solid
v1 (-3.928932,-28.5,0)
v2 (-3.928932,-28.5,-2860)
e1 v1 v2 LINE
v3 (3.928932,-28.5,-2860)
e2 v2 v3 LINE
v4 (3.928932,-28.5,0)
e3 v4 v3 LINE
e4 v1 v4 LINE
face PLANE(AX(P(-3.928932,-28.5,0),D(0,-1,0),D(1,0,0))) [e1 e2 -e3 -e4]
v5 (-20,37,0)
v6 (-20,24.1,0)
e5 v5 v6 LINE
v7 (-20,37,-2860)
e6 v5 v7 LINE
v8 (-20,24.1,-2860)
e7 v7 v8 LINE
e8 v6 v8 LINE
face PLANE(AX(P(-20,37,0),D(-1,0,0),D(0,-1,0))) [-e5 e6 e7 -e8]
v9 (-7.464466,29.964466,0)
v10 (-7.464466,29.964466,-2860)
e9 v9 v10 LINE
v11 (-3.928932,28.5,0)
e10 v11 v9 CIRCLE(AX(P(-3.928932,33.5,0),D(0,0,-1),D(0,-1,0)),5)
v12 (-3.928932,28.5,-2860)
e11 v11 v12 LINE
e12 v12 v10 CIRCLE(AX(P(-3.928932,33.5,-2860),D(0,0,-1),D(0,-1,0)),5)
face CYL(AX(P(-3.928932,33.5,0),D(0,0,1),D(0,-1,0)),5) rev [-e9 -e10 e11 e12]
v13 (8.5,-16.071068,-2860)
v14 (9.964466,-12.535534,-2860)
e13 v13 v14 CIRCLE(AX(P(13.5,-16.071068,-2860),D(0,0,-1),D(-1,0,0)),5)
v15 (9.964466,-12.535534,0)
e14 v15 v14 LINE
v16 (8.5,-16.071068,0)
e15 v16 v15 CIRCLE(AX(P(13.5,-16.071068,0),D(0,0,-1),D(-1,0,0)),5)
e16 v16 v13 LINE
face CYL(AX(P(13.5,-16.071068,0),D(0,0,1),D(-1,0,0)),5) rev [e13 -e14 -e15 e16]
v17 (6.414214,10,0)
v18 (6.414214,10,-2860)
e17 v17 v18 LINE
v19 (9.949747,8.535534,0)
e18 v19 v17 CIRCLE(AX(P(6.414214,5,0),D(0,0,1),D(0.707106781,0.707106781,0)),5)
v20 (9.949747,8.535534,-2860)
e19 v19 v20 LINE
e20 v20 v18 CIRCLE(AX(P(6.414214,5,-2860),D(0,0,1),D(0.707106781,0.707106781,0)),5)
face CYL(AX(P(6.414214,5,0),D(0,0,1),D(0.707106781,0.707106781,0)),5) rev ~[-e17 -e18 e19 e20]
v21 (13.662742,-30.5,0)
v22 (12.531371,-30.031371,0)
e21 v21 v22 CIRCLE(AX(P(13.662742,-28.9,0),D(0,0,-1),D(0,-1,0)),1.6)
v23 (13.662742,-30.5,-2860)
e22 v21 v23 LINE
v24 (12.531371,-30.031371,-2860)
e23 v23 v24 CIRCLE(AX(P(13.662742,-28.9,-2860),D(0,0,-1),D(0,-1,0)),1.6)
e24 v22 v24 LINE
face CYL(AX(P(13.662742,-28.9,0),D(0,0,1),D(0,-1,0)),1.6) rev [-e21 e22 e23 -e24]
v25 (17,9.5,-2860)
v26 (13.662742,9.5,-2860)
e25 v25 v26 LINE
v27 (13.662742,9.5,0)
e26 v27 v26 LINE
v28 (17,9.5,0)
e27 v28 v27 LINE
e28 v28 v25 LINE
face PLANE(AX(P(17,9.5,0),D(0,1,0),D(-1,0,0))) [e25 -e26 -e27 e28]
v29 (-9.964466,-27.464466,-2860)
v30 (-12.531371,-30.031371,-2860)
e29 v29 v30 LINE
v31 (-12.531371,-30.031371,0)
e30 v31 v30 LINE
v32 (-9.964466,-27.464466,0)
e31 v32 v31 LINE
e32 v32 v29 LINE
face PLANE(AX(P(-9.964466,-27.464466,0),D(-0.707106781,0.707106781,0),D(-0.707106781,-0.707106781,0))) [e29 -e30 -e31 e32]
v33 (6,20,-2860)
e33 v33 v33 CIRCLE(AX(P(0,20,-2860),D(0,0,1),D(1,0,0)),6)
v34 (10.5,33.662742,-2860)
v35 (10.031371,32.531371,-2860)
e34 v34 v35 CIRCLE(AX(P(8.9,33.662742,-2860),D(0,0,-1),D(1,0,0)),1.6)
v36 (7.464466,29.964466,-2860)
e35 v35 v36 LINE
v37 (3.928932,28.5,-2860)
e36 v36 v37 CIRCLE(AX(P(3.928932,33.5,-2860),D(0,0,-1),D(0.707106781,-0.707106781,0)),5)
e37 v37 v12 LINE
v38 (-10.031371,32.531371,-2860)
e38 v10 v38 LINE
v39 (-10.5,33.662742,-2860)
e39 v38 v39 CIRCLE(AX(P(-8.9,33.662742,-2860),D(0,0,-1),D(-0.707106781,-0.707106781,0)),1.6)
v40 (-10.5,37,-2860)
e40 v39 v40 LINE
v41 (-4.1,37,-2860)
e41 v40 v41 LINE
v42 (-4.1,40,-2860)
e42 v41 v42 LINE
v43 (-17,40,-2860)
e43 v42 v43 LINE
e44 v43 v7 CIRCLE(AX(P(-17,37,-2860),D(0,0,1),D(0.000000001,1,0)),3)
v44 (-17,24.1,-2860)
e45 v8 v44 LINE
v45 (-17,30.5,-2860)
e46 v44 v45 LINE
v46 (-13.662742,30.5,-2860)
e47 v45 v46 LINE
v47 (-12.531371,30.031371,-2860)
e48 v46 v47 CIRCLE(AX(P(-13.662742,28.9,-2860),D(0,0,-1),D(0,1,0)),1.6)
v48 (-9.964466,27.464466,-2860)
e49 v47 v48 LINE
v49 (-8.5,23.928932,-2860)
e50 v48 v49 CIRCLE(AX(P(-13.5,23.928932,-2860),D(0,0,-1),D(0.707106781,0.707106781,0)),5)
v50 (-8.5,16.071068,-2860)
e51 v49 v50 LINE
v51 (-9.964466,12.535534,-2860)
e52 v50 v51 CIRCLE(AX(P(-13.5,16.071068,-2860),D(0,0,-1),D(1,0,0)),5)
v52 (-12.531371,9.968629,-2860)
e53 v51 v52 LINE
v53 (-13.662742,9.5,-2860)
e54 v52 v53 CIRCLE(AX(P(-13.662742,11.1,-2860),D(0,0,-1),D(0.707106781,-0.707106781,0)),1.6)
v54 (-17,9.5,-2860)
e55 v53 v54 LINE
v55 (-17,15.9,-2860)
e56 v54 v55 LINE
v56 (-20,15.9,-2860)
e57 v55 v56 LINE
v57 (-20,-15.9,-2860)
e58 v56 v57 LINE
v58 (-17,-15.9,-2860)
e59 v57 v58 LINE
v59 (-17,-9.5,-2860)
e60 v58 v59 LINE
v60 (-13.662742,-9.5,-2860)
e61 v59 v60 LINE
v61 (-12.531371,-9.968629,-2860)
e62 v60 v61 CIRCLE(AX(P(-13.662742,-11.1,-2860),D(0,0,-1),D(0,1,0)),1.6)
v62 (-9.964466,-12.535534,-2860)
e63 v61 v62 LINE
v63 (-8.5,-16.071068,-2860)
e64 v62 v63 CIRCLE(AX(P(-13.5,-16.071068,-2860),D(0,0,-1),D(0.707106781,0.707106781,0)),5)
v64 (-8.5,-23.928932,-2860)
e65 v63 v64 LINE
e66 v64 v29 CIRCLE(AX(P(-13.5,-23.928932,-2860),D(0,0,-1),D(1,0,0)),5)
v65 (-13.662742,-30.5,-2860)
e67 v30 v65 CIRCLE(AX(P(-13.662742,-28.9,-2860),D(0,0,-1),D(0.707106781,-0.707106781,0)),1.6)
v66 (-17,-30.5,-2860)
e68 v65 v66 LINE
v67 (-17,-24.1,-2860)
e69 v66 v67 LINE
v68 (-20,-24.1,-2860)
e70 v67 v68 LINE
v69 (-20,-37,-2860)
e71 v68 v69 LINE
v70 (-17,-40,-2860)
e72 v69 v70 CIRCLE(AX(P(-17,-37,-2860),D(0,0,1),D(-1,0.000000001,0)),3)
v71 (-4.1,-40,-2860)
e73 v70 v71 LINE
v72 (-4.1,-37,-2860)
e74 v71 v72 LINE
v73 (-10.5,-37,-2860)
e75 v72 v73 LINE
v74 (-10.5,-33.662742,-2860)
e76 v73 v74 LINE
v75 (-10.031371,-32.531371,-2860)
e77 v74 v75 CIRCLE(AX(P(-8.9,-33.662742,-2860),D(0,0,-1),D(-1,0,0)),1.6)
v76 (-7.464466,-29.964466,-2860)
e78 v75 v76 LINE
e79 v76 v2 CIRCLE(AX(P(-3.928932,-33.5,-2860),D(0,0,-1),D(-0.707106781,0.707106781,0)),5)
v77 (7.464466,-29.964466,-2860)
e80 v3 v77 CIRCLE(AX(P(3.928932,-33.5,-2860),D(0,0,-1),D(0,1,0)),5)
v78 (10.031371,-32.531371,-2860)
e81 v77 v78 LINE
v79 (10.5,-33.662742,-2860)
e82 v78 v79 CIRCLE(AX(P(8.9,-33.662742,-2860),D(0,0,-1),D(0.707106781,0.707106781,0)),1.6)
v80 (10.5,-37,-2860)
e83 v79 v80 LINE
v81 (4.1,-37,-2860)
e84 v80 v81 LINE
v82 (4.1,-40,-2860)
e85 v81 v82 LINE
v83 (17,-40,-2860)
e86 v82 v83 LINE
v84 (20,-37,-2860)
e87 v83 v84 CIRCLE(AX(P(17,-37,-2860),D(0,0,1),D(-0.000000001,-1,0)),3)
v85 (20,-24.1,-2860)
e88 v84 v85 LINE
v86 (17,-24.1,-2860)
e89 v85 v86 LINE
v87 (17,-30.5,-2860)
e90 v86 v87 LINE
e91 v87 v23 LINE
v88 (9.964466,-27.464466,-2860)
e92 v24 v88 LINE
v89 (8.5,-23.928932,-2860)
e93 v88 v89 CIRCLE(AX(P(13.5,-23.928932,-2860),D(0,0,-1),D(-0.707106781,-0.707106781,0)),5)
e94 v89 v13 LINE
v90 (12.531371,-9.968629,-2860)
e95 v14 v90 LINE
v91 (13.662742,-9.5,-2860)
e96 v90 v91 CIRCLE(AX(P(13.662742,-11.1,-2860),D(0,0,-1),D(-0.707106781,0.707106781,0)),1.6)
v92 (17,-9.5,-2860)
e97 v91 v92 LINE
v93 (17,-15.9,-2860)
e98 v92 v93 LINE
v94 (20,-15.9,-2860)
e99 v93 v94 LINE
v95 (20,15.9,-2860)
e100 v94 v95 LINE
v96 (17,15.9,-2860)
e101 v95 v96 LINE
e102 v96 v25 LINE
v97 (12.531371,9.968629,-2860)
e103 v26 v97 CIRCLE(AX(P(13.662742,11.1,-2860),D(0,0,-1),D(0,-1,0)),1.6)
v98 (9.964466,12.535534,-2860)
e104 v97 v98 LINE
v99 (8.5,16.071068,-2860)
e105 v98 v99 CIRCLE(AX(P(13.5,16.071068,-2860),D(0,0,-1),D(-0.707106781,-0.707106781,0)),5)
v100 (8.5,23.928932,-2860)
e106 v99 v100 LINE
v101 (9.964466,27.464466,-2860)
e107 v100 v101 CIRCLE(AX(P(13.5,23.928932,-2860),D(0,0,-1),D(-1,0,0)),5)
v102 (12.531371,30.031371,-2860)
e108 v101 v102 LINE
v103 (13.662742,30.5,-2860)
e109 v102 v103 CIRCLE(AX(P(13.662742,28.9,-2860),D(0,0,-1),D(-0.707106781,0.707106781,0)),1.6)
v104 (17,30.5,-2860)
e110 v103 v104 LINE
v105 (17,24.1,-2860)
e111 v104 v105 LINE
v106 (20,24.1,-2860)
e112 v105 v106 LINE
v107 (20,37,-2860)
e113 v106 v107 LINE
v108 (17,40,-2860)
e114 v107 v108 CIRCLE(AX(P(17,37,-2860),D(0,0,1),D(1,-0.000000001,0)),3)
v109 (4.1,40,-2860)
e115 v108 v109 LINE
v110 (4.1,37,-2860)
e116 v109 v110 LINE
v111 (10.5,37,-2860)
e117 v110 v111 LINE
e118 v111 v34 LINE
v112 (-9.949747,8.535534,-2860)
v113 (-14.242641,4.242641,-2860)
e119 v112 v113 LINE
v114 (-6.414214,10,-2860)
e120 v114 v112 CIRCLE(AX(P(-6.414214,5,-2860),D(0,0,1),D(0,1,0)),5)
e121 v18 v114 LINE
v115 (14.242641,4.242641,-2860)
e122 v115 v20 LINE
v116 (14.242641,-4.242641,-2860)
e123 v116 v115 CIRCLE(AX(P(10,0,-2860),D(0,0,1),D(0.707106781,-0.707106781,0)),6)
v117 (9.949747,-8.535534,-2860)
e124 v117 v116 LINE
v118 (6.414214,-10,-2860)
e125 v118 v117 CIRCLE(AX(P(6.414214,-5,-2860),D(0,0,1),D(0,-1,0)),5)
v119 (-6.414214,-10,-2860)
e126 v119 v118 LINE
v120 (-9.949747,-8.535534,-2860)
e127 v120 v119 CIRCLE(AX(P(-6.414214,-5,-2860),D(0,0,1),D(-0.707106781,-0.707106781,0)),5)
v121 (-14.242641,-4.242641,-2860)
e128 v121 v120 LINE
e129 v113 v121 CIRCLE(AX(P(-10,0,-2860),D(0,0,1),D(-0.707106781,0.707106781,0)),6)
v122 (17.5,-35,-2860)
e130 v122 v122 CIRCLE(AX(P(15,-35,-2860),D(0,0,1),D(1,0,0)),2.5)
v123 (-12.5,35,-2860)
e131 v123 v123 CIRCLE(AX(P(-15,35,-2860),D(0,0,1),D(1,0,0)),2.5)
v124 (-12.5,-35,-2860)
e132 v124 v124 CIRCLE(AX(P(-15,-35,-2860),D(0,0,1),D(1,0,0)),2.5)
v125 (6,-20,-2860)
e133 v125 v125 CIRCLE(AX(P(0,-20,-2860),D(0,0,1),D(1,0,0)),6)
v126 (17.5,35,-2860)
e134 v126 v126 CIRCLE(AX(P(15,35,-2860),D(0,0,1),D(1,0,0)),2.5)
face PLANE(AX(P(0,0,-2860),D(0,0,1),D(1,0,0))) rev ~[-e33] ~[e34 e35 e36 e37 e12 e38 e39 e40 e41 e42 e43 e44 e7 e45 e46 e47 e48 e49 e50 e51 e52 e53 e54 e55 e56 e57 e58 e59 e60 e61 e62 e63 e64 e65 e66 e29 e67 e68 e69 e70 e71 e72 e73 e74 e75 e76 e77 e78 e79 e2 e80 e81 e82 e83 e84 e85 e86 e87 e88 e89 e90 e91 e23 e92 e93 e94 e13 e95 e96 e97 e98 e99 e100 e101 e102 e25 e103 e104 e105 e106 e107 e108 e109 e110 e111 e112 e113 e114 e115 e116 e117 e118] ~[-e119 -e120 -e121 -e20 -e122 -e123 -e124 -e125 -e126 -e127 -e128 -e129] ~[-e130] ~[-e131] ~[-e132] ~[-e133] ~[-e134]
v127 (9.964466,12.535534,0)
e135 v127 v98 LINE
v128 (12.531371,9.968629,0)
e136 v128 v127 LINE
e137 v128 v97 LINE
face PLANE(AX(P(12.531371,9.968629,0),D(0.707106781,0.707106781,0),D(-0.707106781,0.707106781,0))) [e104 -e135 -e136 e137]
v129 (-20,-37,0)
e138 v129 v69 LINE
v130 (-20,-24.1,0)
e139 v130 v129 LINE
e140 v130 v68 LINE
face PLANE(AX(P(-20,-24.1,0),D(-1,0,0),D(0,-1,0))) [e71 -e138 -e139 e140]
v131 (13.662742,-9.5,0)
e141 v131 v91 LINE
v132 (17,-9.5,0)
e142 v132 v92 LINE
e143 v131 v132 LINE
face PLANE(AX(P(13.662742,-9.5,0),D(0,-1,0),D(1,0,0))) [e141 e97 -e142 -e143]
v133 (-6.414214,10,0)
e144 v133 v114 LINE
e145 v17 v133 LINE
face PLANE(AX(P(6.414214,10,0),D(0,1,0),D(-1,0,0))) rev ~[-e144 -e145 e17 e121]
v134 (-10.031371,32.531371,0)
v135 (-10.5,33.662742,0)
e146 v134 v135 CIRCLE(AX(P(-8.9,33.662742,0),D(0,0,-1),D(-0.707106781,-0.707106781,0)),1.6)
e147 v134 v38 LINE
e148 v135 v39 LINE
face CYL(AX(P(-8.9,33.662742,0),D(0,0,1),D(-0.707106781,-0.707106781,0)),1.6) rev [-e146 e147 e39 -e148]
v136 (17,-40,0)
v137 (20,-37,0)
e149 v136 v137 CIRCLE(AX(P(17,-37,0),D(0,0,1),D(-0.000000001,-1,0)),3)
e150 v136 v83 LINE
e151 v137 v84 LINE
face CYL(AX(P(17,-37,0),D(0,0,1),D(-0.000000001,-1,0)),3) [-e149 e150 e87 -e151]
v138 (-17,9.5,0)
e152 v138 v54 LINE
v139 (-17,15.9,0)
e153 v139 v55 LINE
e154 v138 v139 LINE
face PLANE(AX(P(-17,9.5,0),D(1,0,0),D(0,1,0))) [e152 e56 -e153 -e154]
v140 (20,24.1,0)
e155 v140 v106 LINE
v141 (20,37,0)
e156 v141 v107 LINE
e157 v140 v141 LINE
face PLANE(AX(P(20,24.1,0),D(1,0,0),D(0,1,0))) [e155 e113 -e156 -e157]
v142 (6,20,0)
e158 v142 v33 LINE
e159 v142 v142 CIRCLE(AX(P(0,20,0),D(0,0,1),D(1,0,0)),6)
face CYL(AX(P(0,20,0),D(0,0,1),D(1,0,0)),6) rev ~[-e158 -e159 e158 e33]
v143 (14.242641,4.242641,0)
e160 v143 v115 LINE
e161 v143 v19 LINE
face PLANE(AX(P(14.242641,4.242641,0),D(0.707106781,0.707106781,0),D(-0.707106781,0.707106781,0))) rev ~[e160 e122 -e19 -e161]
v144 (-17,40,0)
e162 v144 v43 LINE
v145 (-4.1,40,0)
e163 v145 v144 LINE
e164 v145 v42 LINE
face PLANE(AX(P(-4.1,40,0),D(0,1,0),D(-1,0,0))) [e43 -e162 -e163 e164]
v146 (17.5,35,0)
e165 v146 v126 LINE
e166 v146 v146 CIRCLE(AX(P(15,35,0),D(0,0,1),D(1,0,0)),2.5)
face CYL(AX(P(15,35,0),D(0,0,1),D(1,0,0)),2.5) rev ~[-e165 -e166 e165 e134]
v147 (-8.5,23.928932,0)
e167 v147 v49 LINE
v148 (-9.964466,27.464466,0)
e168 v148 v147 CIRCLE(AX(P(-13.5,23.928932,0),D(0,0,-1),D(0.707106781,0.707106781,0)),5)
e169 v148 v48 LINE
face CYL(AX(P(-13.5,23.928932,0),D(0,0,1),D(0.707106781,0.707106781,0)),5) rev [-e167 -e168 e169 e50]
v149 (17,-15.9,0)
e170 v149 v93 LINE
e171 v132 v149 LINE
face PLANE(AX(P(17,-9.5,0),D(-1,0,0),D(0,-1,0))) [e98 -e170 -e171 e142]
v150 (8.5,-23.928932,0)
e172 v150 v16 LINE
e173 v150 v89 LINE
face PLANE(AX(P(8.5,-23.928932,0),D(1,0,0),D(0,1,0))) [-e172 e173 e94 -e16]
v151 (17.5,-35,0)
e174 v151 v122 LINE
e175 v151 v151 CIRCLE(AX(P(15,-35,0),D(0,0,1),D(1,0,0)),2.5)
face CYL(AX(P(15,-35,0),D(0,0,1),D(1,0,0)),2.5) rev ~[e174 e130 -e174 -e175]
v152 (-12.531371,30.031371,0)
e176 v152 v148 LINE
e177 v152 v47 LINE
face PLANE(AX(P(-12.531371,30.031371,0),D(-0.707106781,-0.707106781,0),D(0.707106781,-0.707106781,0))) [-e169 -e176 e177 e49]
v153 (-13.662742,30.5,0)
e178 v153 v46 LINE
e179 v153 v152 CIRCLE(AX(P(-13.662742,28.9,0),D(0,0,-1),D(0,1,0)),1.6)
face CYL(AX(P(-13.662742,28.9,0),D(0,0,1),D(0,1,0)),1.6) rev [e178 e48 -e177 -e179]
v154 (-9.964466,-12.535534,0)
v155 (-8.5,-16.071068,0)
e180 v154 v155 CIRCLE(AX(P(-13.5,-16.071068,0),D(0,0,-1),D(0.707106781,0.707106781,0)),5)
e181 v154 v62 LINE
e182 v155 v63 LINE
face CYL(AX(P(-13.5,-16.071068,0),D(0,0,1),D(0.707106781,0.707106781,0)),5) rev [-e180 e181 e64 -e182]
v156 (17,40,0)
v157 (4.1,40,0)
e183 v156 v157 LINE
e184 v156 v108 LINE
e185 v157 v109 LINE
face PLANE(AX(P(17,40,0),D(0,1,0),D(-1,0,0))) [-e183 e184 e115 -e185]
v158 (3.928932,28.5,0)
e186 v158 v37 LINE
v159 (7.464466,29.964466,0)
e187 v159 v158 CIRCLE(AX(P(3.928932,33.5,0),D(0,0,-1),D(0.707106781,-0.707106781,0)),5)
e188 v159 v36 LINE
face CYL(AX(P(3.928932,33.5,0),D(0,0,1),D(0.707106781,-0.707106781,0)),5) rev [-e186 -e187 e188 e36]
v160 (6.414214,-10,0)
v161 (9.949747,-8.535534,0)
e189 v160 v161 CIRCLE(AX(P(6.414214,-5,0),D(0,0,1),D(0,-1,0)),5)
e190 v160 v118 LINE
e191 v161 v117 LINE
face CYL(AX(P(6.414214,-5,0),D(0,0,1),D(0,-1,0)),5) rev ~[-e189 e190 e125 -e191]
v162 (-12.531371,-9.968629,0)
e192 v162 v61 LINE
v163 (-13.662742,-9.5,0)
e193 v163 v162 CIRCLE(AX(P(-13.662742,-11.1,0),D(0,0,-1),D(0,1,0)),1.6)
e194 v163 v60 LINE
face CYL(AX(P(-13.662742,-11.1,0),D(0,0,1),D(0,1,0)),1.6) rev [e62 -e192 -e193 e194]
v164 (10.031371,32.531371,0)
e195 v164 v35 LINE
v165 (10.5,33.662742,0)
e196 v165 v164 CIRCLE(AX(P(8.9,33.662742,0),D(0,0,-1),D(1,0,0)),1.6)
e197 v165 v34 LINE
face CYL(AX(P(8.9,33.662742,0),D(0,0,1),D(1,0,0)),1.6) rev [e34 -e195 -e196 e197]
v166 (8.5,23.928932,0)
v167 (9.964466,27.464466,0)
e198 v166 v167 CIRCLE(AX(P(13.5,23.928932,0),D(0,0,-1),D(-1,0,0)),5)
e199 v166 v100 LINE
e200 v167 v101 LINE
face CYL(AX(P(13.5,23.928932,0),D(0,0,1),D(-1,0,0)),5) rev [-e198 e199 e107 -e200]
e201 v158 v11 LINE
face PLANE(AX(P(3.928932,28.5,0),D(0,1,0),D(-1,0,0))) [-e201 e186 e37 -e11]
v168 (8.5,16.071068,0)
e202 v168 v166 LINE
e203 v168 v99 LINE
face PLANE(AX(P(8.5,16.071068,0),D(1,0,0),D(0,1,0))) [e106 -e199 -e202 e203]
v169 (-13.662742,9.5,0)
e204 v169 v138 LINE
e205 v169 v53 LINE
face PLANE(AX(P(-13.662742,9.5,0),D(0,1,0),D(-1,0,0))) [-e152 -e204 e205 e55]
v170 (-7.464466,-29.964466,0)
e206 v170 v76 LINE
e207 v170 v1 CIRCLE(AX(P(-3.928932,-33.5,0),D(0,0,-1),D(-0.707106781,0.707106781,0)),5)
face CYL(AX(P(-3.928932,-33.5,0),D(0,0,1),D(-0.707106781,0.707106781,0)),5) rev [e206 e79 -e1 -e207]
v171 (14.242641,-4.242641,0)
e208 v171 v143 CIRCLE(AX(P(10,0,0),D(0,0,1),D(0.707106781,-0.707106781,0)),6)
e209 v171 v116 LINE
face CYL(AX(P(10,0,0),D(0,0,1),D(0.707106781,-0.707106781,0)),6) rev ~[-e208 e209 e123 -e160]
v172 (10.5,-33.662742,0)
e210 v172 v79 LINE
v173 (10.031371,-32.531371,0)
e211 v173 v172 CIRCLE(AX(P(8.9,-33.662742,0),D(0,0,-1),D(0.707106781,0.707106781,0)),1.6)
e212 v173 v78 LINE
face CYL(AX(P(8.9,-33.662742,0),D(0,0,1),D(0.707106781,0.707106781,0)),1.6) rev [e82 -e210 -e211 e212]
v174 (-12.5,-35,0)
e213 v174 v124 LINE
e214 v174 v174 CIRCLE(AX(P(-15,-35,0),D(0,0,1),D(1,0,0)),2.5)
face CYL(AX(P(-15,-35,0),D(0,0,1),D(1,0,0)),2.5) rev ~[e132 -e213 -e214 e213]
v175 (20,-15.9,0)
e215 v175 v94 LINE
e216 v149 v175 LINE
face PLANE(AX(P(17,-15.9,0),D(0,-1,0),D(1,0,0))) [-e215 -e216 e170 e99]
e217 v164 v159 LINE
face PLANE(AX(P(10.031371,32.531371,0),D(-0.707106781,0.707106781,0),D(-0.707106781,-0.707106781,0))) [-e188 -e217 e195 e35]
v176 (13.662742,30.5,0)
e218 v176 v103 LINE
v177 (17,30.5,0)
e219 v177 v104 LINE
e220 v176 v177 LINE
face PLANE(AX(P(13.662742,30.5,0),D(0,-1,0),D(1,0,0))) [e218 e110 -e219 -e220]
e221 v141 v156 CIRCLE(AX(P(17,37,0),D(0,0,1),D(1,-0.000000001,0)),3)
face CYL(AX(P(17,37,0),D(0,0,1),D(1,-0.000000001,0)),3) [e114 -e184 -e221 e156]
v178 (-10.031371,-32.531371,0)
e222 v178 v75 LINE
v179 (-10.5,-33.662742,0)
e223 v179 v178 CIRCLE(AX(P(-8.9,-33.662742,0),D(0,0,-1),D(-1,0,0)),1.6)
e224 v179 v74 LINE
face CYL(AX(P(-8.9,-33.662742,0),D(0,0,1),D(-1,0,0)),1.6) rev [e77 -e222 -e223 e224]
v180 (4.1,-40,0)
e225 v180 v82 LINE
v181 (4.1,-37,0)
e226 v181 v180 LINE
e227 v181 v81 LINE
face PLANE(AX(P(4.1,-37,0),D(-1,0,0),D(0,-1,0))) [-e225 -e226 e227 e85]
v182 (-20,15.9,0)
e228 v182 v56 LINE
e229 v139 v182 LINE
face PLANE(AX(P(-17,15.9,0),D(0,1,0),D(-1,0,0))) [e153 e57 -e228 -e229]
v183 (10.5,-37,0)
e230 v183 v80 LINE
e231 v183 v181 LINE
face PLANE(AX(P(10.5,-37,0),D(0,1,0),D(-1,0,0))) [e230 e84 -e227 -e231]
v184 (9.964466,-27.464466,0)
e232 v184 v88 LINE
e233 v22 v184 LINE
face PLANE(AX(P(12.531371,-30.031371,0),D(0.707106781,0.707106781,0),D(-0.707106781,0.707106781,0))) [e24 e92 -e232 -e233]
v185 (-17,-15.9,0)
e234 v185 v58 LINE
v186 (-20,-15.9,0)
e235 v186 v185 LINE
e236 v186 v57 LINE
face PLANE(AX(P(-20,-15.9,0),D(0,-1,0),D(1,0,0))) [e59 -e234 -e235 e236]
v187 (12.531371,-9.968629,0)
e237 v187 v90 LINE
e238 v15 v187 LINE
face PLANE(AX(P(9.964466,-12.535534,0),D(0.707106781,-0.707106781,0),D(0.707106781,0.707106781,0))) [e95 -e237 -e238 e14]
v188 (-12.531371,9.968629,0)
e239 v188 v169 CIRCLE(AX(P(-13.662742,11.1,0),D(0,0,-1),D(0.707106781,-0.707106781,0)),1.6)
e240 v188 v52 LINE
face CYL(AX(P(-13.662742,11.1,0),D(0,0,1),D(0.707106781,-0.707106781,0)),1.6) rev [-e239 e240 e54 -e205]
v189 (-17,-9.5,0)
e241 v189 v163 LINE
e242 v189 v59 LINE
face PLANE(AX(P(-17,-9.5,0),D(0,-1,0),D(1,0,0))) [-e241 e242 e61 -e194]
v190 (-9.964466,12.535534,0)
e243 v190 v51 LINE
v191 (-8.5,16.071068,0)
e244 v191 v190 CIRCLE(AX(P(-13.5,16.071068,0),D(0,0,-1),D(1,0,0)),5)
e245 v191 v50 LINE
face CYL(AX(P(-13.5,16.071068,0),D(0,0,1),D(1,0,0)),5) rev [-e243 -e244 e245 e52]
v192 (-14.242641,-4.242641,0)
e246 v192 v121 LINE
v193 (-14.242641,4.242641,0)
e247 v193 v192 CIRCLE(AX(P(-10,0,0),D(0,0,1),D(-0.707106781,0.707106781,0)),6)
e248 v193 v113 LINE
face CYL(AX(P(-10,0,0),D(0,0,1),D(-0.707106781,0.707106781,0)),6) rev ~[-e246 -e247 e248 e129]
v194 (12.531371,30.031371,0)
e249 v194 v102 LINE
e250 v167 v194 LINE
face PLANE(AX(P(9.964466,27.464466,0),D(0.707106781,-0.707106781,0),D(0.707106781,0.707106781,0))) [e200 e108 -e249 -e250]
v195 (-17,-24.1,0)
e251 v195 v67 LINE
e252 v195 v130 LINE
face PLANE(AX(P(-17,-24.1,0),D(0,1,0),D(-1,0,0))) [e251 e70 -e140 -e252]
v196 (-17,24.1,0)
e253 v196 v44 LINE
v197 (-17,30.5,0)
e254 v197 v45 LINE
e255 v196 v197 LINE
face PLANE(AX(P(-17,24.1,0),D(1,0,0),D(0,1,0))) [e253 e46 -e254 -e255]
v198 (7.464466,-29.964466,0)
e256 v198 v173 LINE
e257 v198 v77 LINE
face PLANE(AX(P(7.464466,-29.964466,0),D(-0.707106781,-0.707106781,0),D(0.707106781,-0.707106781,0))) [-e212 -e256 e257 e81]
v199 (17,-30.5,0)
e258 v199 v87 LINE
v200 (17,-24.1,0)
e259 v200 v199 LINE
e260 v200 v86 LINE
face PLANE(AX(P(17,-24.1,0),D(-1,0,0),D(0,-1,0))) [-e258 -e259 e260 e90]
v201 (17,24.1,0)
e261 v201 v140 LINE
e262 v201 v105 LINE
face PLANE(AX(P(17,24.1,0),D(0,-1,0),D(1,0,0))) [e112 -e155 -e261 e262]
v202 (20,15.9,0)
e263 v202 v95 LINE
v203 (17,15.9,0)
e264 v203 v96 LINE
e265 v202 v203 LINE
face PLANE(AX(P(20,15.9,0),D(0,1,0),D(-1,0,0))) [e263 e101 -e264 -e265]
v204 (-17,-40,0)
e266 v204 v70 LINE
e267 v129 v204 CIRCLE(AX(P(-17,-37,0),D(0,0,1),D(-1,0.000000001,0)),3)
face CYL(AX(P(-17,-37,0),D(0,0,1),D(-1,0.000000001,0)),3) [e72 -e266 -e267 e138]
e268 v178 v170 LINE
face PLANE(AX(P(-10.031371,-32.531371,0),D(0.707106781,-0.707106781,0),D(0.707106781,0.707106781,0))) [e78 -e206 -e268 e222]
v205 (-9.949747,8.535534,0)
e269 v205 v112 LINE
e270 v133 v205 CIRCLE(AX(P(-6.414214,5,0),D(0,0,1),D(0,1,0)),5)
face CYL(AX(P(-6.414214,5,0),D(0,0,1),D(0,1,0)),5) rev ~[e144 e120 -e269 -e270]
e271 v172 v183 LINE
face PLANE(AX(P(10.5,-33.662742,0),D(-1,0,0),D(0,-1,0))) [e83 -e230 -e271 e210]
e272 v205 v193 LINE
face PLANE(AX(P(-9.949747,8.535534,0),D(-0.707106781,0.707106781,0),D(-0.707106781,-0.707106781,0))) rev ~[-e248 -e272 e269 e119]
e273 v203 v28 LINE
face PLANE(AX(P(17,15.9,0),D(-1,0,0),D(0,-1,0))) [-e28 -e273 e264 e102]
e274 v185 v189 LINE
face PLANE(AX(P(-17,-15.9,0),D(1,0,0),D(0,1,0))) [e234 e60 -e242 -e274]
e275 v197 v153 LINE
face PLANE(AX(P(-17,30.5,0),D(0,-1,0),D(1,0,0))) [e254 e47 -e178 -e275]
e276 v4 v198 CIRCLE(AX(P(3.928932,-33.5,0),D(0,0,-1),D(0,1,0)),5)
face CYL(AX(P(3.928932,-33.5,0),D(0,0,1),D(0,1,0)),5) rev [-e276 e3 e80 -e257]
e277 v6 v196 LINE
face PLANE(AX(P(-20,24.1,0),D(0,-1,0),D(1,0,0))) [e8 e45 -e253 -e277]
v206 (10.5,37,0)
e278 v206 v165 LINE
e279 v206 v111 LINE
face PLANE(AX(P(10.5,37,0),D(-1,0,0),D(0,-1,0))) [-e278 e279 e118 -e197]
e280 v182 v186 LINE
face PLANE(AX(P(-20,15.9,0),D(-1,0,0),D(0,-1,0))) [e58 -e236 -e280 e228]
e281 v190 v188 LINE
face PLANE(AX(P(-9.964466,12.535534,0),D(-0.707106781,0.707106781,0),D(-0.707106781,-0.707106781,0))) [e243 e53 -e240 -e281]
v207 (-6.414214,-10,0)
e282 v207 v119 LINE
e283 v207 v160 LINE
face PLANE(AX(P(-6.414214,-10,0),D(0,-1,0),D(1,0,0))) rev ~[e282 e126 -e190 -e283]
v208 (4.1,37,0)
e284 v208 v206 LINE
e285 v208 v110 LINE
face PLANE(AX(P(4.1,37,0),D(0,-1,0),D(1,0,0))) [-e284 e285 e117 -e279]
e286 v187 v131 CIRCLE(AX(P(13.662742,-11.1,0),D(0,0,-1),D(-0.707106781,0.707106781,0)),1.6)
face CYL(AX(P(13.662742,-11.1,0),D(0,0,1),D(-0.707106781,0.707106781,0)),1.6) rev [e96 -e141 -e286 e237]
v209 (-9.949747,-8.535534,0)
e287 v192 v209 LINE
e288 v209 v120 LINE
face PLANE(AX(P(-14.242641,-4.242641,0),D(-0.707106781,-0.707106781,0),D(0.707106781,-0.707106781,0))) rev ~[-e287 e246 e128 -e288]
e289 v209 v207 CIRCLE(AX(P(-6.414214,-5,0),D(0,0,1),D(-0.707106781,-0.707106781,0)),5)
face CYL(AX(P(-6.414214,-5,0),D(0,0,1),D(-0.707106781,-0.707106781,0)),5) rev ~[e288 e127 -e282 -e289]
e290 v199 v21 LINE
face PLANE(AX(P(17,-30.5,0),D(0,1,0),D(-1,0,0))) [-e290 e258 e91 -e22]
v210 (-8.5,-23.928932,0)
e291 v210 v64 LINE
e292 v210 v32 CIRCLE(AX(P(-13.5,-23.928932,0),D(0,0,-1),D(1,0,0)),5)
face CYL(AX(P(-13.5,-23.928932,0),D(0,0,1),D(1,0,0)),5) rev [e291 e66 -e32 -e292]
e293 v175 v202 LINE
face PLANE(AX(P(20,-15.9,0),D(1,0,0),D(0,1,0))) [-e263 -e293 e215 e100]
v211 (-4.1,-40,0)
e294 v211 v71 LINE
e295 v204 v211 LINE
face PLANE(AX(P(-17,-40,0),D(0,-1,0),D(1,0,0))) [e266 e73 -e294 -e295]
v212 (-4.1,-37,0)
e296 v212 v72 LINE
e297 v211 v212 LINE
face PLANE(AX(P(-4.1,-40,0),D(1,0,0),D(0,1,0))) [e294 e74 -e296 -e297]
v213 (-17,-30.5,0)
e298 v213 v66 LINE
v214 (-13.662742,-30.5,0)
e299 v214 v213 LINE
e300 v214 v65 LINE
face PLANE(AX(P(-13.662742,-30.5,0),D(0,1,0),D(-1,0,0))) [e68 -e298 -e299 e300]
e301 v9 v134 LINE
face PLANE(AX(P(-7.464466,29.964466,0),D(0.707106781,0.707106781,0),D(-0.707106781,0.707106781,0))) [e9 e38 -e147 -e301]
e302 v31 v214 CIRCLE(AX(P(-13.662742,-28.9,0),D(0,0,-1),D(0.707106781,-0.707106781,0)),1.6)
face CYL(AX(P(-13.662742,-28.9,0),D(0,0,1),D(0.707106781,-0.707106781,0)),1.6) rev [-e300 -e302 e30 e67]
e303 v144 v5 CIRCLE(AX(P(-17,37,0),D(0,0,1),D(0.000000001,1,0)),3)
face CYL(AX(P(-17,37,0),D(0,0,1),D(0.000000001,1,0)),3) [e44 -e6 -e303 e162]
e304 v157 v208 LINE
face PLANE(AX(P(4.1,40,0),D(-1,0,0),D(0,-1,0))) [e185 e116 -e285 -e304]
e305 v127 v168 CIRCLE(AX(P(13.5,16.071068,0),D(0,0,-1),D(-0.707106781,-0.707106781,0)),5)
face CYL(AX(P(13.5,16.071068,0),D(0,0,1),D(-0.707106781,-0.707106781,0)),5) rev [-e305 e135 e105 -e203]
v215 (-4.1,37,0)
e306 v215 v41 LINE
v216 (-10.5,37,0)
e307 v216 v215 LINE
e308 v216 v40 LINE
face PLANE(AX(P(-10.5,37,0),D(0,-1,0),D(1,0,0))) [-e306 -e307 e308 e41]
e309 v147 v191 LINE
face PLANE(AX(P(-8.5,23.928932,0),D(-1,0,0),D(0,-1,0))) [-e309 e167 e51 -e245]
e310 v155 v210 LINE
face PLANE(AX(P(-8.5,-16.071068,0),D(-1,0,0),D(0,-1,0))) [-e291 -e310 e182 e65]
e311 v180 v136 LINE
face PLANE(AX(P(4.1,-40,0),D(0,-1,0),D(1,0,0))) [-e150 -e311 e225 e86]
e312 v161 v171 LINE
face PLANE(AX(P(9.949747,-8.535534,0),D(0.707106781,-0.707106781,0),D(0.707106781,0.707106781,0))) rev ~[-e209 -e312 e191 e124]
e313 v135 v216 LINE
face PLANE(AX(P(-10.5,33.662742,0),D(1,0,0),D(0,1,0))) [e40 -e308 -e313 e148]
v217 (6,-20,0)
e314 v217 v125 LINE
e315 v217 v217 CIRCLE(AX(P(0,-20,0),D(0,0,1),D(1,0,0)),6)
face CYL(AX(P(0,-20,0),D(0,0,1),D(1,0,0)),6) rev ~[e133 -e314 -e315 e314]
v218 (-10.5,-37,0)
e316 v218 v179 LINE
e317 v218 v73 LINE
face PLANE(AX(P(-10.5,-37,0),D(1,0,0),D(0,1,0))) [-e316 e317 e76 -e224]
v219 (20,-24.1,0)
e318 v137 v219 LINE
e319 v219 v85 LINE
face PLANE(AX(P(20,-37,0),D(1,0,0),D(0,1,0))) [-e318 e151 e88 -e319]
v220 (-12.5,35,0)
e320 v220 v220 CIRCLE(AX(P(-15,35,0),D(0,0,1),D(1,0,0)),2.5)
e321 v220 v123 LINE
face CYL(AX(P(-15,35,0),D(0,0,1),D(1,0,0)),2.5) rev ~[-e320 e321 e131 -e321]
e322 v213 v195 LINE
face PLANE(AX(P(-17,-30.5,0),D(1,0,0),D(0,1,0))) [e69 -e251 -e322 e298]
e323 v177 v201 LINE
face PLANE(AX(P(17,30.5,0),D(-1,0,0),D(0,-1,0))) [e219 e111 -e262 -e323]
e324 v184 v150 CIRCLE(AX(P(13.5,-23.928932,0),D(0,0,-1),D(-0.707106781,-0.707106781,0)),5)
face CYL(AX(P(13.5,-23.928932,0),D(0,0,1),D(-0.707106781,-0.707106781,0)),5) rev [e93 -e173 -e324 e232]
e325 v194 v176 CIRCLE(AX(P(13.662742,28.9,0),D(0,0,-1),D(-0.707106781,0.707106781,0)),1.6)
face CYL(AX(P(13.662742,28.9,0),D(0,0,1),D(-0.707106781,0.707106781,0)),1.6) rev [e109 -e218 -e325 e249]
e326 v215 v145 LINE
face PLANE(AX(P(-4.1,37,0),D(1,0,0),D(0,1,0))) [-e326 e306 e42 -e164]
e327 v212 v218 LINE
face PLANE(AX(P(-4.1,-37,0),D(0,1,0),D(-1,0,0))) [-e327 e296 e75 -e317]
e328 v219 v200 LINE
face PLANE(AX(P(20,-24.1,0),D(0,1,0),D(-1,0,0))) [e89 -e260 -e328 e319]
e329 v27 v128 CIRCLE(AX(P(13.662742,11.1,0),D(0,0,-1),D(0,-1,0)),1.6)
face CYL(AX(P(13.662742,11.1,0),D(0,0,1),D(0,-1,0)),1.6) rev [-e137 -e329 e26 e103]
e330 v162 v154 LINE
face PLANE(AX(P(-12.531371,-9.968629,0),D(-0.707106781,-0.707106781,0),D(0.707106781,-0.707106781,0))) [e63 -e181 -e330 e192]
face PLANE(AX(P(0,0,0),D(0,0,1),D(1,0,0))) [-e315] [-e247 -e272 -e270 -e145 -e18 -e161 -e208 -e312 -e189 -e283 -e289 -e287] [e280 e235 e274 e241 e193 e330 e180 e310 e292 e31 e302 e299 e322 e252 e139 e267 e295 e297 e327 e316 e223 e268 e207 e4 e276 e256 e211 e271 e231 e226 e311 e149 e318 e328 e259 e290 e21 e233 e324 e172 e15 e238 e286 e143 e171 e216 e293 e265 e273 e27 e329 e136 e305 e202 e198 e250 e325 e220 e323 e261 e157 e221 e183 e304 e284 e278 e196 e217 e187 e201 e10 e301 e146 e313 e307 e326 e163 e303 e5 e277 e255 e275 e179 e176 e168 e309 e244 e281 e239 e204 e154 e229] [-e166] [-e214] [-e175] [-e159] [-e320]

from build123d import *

# Parameters (mm, degrees)
SKETCH1_R           = 2.5
SKETCH1_R_2         = 6
BOSS_EXTRUDE1_DEPTH = 2860


with BuildPart() as part:
    # Sketch1 → Boss-Extrude1 (new body)
    with BuildSketch(Plane.XY):
        with BuildLine():
            Line((-17, -40), (-4.1, -40))
            Line((-4.1, -40), (-4.1, -37))
            Line((-4.1, -37), (-10.5, -37))
            Line((-10.5, -37), (-10.5, -33.6627417))
            ThreePointArc((-10.5, -33.6627417), (-10.378207252, -33.050448208), (-10.03137085, -32.53137085))
            Line((-10.03137085, -32.53137085), (-7.464466094, -29.964466094))
            ThreePointArc((-7.464466094, -29.964466094), (-5.84234935, -28.880602337), (-3.928932188, -28.5))
            Line((-3.928932188, -28.5), (3.928932188, -28.5))
            ThreePointArc((3.928932188, -28.5), (5.84234935, -28.880602337), (7.464466094, -29.964466094))
            Line((7.464466094, -29.964466094), (10.03137085, -32.53137085))
            ThreePointArc((10.03137085, -32.53137085), (10.378207252, -33.050448208), (10.5, -33.6627417))
            Line((10.5, -33.6627417), (10.5, -37))
            Line((10.5, -37), (4.1, -37))
            Line((4.1, -37), (4.1, -40))
            Line((4.1, -40), (17, -40))
            ThreePointArc((17, -40), (19.121320344, -39.121320344), (20, -37))
            Line((20, -37), (20, -24.1))
            Line((20, -24.1), (17, -24.1))
            Line((17, -24.1), (17, -30.5))
            Line((17, -30.5), (13.6627417, -30.5))
            ThreePointArc((13.6627417, -30.5), (13.050448208, -30.378207252), (12.53137085, -30.03137085))
            Line((12.53137085, -30.03137085), (9.964466094, -27.464466094))
            ThreePointArc((9.964466094, -27.464466094), (8.880602337, -25.84234935), (8.5, -23.928932188))
            Line((8.5, -23.928932188), (8.5, -16.071067812))
            ThreePointArc((8.5, -16.071067812), (8.880602337, -14.15765065), (9.964466094, -12.535533906))
            Line((9.964466094, -12.535533906), (12.53137085, -9.96862915))
            ThreePointArc((12.53137085, -9.96862915), (13.050448208, -9.621792748), (13.6627417, -9.5))
            Line((13.6627417, -9.5), (17, -9.5))
            Line((17, -9.5), (17, -15.9))
            Line((17, -15.9), (20, -15.9))
            Line((20, -15.9), (20, 15.9))
            Line((20, 15.9), (17, 15.9))
            Line((17, 15.9), (17, 9.5))
            Line((17, 9.5), (13.6627417, 9.5))
            ThreePointArc((13.6627417, 9.5), (13.050448208, 9.621792748), (12.53137085, 9.96862915))
            Line((12.53137085, 9.96862915), (9.964466094, 12.535533906))
            ThreePointArc((9.964466094, 12.535533906), (8.880602337, 14.15765065), (8.5, 16.071067812))
            Line((8.5, 16.071067812), (8.5, 23.928932188))
            ThreePointArc((8.5, 23.928932188), (8.880602337, 25.84234935), (9.964466094, 27.464466094))
            Line((9.964466094, 27.464466094), (12.53137085, 30.03137085))
            ThreePointArc((12.53137085, 30.03137085), (13.050448208, 30.378207252), (13.6627417, 30.5))
            Line((13.6627417, 30.5), (17, 30.5))
            Line((17, 30.5), (17, 24.1))
            Line((17, 24.1), (20, 24.1))
            Line((20, 24.1), (20, 37))
            ThreePointArc((20, 37), (19.121320344, 39.121320344), (17, 40))
            Line((17, 40), (4.1, 40))
            Line((4.1, 40), (4.1, 37))
            Line((4.1, 37), (10.5, 37))
            Line((10.5, 37), (10.5, 33.6627417))
            ThreePointArc((10.5, 33.6627417), (10.378207252, 33.050448208), (10.03137085, 32.53137085))
            Line((10.03137085, 32.53137085), (7.464466094, 29.964466094))
            ThreePointArc((7.464466094, 29.964466094), (5.84234935, 28.880602337), (3.928932188, 28.5))
            Line((3.928932188, 28.5), (-3.928932188, 28.5))
            ThreePointArc((-3.928932188, 28.5), (-5.84234935, 28.880602337), (-7.464466094, 29.964466094))
            Line((-7.464466094, 29.964466094), (-10.03137085, 32.53137085))
            ThreePointArc((-10.03137085, 32.53137085), (-10.378207252, 33.050448208), (-10.5, 33.6627417))
            Line((-10.5, 33.6627417), (-10.5, 37))
            Line((-10.5, 37), (-4.1, 37))
            Line((-4.1, 37), (-4.1, 40))
            Line((-4.1, 40), (-17, 40))
            ThreePointArc((-17, 40), (-19.121320344, 39.121320344), (-20, 37))
            Line((-20, 37), (-20, 24.1))
            Line((-20, 24.1), (-17, 24.1))
            Line((-17, 24.1), (-17, 30.5))
            Line((-17, 30.5), (-13.6627417, 30.5))
            ThreePointArc((-13.6627417, 30.5), (-13.050448208, 30.378207252), (-12.53137085, 30.03137085))
            Line((-12.53137085, 30.03137085), (-9.964466094, 27.464466094))
            ThreePointArc((-9.964466094, 27.464466094), (-8.880602337, 25.84234935), (-8.5, 23.928932188))
            Line((-8.5, 23.928932188), (-8.5, 16.071067812))
            ThreePointArc((-8.5, 16.071067812), (-8.880602337, 14.15765065), (-9.964466094, 12.535533906))
            Line((-9.964466094, 12.535533906), (-12.53137085, 9.96862915))
            ThreePointArc((-12.53137085, 9.96862915), (-13.050448208, 9.621792748), (-13.6627417, 9.5))
            Line((-13.6627417, 9.5), (-17, 9.5))
            Line((-17, 9.5), (-17, 15.9))
            Line((-17, 15.9), (-20, 15.9))
            Line((-20, 15.9), (-20, -15.9))
            Line((-20, -15.9), (-17, -15.9))
            Line((-17, -15.9), (-17, -9.5))
            Line((-17, -9.5), (-13.6627417, -9.5))
            ThreePointArc((-13.6627417, -9.5), (-13.050448208, -9.621792748), (-12.53137085, -9.96862915))
            Line((-12.53137085, -9.96862915), (-9.964466094, -12.535533906))
            ThreePointArc((-9.964466094, -12.535533906), (-8.880602337, -14.15765065), (-8.5, -16.071067812))
            Line((-8.5, -16.071067812), (-8.5, -23.928932188))
            ThreePointArc((-8.5, -23.928932188), (-8.880602337, -25.84234935), (-9.964466094, -27.464466094))
            Line((-9.964466094, -27.464466094), (-12.53137085, -30.03137085))
            ThreePointArc((-12.53137085, -30.03137085), (-13.050448208, -30.378207252), (-13.6627417, -30.5))
            Line((-13.6627417, -30.5), (-17, -30.5))
            Line((-17, -30.5), (-17, -24.1))
            Line((-17, -24.1), (-20, -24.1))
            Line((-20, -24.1), (-20, -37))
            ThreePointArc((-20, -37), (-19.121320344, -39.121320344), (-17, -40))
        make_face()
        with Locations((15, 35)):
            Circle(SKETCH1_R, mode=Mode.SUBTRACT)
        with Locations((15, -35)):
            Circle(SKETCH1_R, mode=Mode.SUBTRACT)
        with Locations((0, 20)):
            Circle(SKETCH1_R_2, mode=Mode.SUBTRACT)
        with Locations((0, -20)):
            Circle(SKETCH1_R_2, mode=Mode.SUBTRACT)
        with Locations((-15, 35)):
            Circle(SKETCH1_R, mode=Mode.SUBTRACT)
        with Locations((-15, -35)):
            Circle(SKETCH1_R, mode=Mode.SUBTRACT)
        with BuildLine():
            Line((-14.242640687, -4.242640687), (-9.949747468, -8.535533906))
            ThreePointArc((-9.949747468, -8.535533906), (-8.327630724, -9.619397663), (-6.414213562, -10))
            Line((-6.414213562, -10), (6.414213562, -10))
            ThreePointArc((6.414213562, -10), (8.327630724, -9.619397663), (9.949747468, -8.535533906))
            Line((9.949747468, -8.535533906), (14.242640687, -4.242640687))
            ThreePointArc((14.242640687, -4.242640687), (16, 0), (14.242640687, 4.242640687))
            Line((14.242640687, 4.242640687), (9.949747468, 8.535533906))
            ThreePointArc((9.949747468, 8.535533906), (8.327630724, 9.619397663), (6.414213562, 10))
            Line((6.414213562, 10), (-6.414213562, 10))
            ThreePointArc((-6.414213562, 10), (-8.327630724, 9.619397663), (-9.949747468, 8.535533906))
            Line((-9.949747468, 8.535533906), (-14.242640687, 4.242640687))
            ThreePointArc((-14.242640687, 4.242640687), (-16, 0), (-14.242640687, -4.242640687))
        make_face(mode=Mode.SUBTRACT)
    extrude(amount=-BOSS_EXTRUDE1_DEPTH)


solid = part.part
